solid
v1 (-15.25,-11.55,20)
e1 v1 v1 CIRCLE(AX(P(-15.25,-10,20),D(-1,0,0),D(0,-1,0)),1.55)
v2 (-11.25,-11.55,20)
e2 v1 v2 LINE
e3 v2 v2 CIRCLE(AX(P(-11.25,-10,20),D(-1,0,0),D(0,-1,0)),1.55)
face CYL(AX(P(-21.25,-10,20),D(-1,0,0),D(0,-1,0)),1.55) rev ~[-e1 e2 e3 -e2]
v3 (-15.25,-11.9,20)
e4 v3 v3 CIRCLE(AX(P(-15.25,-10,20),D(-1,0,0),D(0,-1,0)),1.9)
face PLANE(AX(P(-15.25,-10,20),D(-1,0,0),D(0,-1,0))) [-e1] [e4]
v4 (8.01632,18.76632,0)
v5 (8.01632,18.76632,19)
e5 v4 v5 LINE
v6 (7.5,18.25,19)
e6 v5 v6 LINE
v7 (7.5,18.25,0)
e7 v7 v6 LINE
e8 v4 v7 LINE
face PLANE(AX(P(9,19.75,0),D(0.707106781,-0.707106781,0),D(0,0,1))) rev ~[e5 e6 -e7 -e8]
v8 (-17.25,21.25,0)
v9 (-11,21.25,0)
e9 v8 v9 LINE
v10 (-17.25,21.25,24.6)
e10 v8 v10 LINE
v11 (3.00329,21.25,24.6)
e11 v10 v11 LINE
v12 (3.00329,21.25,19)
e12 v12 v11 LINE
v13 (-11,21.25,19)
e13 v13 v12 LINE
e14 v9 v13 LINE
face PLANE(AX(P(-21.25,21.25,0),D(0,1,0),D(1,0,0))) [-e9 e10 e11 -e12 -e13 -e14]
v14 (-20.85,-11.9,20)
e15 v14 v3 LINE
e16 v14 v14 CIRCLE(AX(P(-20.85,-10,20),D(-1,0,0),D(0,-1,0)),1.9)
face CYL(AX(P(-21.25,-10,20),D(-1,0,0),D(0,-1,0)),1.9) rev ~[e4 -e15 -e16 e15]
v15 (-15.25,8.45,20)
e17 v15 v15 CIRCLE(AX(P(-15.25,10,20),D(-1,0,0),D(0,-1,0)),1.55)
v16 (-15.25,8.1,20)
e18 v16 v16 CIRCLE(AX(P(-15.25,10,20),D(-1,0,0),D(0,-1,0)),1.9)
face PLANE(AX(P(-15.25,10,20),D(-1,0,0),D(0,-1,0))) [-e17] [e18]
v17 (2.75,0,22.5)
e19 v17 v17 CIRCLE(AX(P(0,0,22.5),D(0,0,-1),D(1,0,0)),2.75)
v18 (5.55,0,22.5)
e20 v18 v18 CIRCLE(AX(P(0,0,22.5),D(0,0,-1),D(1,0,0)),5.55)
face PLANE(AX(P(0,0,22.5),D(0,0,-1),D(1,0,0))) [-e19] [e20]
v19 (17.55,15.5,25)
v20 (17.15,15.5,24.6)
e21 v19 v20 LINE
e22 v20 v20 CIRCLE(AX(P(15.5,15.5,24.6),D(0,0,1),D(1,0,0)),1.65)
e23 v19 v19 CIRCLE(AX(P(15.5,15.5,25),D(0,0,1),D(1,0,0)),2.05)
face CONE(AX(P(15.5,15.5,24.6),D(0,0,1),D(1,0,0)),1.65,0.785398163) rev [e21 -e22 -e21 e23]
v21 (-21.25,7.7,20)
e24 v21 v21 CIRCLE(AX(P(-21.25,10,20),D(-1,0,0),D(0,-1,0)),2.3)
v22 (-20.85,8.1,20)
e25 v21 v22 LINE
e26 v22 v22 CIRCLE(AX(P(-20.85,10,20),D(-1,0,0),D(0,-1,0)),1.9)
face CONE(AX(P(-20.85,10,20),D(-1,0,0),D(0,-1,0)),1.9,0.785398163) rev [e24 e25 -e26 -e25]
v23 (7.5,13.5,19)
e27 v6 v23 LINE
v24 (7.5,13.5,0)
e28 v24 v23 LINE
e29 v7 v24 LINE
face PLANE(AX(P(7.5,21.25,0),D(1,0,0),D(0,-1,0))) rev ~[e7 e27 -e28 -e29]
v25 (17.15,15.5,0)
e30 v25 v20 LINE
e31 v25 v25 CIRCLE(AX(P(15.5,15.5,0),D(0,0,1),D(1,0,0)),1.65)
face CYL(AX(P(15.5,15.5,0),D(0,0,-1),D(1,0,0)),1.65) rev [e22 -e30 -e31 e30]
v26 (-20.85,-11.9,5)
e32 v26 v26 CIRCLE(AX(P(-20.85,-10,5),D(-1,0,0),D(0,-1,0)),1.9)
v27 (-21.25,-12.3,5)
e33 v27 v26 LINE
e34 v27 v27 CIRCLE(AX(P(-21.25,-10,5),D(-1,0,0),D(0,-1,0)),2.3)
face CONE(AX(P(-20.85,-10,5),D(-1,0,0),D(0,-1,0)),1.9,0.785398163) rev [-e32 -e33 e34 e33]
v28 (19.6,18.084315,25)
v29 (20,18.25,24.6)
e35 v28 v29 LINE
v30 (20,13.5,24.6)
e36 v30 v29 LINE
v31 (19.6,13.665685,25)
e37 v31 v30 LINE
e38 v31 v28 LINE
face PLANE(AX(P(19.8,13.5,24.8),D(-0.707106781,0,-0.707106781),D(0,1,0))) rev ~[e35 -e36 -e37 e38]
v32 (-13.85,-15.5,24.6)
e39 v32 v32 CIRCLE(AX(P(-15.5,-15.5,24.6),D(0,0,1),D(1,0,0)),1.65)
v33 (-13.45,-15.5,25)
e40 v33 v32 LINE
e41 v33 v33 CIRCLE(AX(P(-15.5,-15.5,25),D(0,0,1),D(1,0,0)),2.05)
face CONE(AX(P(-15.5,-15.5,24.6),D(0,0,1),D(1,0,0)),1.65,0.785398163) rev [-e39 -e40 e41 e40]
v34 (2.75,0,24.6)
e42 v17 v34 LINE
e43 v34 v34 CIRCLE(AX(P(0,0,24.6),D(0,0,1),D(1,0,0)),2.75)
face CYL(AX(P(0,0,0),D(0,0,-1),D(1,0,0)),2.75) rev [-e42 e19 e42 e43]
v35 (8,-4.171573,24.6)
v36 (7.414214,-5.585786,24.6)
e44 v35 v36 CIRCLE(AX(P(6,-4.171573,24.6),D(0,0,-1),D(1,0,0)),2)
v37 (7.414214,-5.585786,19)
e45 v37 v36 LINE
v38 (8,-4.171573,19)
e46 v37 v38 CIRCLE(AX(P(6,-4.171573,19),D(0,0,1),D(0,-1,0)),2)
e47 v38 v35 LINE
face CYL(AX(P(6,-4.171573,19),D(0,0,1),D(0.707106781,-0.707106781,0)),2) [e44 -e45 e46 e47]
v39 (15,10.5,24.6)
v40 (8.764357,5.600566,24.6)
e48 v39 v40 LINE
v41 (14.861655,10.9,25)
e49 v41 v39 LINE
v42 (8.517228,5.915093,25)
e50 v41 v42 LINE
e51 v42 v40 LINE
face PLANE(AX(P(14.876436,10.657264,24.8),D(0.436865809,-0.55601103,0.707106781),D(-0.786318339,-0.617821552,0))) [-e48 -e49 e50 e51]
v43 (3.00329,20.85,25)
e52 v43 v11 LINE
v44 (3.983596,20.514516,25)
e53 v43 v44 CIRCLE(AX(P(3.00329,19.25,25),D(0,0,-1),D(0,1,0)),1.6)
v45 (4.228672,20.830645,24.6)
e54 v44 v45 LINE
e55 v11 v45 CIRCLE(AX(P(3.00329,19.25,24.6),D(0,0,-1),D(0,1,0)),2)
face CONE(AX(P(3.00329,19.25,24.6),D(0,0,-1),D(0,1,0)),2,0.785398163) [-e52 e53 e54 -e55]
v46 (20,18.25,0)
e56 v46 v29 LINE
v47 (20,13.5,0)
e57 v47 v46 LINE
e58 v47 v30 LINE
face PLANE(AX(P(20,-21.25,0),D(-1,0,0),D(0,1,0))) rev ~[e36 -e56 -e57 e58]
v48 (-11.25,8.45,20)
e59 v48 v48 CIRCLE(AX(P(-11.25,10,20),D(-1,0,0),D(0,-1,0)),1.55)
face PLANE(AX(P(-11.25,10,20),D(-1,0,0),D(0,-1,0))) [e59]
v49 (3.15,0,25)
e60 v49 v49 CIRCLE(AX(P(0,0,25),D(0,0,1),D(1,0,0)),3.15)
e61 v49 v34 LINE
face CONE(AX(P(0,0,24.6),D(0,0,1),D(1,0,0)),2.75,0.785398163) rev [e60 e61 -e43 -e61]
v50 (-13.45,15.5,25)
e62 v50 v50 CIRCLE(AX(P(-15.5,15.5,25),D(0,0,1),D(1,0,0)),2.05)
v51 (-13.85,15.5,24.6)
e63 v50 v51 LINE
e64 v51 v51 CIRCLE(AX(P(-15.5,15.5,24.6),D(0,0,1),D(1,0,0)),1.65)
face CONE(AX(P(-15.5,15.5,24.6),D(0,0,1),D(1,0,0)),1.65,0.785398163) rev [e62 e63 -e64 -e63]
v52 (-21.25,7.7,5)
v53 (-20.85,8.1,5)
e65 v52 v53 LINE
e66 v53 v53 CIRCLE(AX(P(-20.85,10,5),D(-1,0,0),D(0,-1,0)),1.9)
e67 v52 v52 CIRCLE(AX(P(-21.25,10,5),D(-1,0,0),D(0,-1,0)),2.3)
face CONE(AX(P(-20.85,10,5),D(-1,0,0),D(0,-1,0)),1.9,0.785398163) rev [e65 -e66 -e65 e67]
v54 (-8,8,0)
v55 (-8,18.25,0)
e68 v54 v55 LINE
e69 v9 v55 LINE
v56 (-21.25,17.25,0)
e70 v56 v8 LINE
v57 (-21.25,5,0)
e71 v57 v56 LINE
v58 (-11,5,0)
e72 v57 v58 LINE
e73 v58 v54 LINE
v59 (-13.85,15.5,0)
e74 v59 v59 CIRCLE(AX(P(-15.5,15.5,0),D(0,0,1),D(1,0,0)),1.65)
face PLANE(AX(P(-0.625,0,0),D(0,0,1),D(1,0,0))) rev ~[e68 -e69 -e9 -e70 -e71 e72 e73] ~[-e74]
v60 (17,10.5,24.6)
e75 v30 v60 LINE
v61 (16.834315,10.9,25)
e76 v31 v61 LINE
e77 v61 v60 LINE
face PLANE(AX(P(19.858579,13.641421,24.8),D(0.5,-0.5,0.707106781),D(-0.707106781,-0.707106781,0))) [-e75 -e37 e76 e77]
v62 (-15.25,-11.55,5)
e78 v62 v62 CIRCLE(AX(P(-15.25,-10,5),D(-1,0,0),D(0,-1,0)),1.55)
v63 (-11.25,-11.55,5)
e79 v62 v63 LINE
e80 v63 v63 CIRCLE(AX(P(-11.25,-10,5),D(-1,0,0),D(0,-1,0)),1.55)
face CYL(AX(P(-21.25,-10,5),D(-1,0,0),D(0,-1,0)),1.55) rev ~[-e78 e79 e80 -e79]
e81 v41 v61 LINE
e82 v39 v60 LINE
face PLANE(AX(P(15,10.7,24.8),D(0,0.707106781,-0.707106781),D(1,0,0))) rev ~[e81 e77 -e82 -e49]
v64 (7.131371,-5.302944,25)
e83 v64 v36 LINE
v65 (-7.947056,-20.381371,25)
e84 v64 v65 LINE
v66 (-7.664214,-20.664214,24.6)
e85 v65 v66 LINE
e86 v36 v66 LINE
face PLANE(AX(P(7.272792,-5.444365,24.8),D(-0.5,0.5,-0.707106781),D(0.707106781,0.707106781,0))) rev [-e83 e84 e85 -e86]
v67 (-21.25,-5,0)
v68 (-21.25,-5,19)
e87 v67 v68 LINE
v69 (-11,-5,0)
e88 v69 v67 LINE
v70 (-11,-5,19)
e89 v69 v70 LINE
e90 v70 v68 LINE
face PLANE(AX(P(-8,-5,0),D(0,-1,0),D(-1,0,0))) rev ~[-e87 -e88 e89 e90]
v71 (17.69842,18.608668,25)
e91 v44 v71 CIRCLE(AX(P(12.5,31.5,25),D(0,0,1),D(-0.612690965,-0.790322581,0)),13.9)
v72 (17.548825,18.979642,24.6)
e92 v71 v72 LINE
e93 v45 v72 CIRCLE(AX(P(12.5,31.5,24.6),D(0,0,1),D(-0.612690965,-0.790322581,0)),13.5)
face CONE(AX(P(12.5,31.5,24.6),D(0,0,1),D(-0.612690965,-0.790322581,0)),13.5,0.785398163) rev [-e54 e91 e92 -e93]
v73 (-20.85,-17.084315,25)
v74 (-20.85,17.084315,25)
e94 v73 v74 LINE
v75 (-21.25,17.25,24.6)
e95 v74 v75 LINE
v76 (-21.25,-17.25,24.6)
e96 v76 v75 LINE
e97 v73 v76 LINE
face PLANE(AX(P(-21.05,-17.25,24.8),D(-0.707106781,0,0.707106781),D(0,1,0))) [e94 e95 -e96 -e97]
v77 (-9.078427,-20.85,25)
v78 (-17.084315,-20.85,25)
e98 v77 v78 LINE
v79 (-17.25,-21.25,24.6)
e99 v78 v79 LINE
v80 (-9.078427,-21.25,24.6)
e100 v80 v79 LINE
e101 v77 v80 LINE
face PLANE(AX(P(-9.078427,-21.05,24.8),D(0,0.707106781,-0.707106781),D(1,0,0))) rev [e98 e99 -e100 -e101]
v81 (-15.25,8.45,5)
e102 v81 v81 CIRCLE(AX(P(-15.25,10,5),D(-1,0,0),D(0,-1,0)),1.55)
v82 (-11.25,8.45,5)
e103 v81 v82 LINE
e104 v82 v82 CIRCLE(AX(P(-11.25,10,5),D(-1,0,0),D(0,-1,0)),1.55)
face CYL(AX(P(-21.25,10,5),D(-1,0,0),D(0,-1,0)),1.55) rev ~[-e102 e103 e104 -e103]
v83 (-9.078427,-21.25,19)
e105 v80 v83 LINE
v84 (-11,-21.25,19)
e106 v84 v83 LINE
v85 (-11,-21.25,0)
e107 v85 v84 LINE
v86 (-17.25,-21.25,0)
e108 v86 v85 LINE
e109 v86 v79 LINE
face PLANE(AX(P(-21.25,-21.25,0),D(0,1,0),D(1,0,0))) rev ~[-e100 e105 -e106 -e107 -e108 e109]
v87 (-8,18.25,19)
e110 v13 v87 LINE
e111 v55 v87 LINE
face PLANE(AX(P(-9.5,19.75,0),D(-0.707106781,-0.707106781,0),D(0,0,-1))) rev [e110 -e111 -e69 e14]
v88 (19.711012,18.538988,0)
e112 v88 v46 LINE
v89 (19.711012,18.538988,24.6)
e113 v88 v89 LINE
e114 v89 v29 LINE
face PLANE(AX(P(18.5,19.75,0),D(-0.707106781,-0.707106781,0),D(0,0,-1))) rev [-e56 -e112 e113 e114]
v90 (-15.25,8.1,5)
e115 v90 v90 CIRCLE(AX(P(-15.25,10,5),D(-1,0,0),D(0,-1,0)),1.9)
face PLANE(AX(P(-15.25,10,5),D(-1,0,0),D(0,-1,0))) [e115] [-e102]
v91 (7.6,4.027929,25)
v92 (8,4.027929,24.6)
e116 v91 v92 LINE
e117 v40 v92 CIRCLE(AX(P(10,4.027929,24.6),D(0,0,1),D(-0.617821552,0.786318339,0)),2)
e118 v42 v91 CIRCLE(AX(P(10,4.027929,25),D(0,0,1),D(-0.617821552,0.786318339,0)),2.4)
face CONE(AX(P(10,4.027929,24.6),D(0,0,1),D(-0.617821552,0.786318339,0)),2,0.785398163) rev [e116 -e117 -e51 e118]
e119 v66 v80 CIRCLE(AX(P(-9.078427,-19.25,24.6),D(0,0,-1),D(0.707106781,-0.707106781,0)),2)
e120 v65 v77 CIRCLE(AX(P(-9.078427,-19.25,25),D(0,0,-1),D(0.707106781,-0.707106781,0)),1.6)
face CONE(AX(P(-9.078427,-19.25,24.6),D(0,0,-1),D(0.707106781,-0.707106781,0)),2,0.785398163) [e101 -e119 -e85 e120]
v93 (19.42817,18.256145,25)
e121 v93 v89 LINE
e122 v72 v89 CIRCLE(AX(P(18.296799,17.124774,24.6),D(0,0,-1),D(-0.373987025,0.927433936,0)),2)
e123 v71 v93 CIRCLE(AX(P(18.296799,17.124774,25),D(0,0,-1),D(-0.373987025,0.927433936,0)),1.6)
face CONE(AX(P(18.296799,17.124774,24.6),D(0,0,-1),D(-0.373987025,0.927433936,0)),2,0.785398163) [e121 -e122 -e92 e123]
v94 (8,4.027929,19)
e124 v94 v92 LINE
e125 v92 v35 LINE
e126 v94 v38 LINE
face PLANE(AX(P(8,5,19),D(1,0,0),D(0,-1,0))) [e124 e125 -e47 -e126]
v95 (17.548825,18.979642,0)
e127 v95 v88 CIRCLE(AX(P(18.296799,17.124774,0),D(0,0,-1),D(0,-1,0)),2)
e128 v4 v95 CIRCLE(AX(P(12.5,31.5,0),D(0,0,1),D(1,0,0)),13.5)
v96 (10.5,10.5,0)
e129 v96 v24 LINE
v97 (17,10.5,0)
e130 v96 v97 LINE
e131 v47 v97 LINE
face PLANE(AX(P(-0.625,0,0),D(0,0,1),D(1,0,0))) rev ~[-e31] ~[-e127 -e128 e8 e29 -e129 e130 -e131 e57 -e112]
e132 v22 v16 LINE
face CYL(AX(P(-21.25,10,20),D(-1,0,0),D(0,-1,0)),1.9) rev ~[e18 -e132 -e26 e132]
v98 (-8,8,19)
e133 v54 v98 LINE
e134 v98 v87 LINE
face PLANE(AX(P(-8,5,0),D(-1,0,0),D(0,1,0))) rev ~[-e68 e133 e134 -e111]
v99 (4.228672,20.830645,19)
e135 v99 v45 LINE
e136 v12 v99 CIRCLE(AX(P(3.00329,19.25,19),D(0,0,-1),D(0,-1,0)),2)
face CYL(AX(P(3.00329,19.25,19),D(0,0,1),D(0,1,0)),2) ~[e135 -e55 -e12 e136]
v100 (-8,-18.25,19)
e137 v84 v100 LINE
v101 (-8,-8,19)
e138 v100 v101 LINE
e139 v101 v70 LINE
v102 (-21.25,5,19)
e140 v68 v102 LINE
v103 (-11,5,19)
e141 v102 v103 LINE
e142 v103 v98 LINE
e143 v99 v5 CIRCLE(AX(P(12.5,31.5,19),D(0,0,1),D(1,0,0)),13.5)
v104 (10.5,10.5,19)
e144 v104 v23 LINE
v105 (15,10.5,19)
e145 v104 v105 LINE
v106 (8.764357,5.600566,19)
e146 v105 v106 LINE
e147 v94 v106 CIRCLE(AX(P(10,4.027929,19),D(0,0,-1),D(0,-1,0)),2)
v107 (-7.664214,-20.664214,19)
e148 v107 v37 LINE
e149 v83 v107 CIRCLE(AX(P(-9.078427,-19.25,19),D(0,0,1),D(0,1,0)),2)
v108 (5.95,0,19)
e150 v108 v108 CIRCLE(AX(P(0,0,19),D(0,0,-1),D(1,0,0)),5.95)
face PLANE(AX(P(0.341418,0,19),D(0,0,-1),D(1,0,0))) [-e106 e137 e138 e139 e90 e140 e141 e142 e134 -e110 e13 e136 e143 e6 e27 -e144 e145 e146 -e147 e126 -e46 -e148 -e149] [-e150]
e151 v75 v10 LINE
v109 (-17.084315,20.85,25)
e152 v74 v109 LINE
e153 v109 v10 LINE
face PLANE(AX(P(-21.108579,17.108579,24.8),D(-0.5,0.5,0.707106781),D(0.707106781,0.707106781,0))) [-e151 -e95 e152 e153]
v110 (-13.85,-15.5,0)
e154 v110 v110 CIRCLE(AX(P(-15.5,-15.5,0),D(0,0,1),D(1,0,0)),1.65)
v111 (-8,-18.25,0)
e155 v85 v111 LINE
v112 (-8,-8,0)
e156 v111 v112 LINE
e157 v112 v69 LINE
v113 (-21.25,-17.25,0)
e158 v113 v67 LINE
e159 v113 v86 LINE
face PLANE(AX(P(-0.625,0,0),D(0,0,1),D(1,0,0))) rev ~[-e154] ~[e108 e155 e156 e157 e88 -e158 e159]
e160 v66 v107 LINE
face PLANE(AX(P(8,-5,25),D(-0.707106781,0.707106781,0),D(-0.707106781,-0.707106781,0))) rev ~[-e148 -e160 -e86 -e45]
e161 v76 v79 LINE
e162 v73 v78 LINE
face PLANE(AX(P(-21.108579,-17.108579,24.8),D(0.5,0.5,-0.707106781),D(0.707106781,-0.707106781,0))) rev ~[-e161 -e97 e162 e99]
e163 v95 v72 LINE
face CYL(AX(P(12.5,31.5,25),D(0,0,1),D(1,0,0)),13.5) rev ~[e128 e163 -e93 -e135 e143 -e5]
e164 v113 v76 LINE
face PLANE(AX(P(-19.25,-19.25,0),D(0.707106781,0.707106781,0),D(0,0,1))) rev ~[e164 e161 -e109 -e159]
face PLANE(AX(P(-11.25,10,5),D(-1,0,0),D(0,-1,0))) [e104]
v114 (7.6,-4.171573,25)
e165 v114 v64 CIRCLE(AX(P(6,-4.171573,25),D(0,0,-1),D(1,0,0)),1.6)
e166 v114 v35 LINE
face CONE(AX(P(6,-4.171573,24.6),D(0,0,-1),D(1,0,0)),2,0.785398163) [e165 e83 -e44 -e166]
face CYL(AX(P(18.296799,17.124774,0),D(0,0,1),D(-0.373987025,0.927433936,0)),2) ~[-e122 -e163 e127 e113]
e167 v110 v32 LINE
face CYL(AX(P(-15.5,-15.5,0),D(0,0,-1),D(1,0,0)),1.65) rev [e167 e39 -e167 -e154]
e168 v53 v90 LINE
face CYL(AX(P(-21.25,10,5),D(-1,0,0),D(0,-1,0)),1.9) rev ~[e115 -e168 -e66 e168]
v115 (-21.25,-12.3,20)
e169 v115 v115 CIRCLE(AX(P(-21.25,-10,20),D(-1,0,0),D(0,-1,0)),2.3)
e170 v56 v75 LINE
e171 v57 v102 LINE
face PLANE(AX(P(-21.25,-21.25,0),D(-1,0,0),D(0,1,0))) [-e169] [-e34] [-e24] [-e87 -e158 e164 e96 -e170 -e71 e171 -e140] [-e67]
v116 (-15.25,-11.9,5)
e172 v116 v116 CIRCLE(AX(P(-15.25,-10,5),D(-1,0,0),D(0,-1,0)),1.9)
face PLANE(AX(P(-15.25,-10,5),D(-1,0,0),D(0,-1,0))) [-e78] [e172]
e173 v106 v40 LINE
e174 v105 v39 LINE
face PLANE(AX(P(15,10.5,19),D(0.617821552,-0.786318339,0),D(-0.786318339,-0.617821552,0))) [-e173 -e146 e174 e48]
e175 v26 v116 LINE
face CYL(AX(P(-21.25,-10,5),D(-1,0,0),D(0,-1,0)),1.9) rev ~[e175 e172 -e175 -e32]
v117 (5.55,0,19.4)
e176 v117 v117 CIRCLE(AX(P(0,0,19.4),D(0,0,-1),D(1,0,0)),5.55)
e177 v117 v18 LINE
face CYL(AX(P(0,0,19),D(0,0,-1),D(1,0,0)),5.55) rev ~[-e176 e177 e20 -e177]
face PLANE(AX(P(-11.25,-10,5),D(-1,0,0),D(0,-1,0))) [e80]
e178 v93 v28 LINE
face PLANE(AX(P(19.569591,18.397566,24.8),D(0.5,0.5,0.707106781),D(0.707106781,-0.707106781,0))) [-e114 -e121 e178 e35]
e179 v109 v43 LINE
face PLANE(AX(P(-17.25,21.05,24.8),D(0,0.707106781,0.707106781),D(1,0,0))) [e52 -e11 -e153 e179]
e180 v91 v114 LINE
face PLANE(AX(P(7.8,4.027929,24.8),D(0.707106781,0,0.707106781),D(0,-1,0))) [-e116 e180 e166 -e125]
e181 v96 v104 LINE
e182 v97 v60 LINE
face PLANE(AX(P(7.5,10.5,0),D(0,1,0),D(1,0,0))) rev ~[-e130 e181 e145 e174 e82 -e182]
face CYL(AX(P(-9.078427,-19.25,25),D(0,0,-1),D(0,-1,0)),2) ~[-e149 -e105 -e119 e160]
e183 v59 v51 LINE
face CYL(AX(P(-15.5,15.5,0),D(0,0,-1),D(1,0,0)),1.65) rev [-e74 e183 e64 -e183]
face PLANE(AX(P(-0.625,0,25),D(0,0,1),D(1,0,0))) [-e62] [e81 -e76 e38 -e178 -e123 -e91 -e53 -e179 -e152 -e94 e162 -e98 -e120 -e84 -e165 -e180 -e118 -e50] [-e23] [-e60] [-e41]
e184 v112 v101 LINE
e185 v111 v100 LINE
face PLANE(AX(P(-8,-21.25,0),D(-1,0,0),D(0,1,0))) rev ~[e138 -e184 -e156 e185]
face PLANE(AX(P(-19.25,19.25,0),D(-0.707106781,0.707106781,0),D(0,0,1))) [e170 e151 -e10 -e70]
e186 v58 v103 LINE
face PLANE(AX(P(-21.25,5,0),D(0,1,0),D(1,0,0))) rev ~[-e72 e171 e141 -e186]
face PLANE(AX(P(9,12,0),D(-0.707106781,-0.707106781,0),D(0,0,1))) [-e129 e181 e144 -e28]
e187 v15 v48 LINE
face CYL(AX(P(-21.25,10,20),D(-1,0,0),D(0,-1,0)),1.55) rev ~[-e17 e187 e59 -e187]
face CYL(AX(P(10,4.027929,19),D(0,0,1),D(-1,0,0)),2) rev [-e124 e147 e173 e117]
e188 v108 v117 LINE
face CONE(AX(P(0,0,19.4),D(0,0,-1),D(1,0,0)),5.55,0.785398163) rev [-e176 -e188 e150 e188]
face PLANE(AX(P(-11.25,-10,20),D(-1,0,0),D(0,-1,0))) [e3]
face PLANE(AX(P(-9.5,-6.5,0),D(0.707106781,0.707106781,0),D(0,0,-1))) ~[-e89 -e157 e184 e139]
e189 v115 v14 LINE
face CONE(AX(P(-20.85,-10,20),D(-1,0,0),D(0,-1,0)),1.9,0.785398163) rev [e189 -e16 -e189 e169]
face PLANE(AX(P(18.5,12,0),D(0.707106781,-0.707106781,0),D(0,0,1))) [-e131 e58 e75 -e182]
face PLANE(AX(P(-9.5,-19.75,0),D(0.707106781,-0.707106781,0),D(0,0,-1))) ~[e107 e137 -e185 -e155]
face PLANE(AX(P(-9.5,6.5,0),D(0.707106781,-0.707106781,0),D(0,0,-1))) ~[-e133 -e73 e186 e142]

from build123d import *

# Parameters (mm, degrees)
SKETCH_W        = 41.25
SKETCH_H        = 42.5
SKETCH_R        = 1.65
SKETCH_R_2      = 2.75
PAD_DEPTH       = 25
POCKET_DEPTH    = 19
POCKET001_DEPTH = 19
POCKET002_DEPTH = 6.001
CHAMFER_SIZE    = 4
CHAMFER001_SIZE = 3
CHAMFER002_SIZE = 3
SKETCH003_R     = 5.55
POCKET003_DEPTH = 3.5
SKETCH004_R     = 1.55
POCKET004_DEPTH = 10
SKETCH005_R     = 1.9
POCKET005_DEPTH = 6
SKETCH006_R     = 13.5
POCKET006_DEPTH = 25.001
POCKET007_DEPTH = 25.001
FILLET_R        = 2
CHAMFER003_SIZE = 0.4


with BuildPart() as part:
    # Sketch → Pad (new body)
    with BuildSketch(Plane.XY):
        with Locations((-0.625, 0)):
            Rectangle(SKETCH_W, SKETCH_H)
        with Locations((-15.5, 15.5)):
            Circle(SKETCH_R, mode=Mode.SUBTRACT)
        with Locations((-15.5, -15.5)):
            Circle(SKETCH_R, mode=Mode.SUBTRACT)
        with Locations((15.5, -15.5)):
            Circle(SKETCH_R, mode=Mode.SUBTRACT)
        with Locations((15.5, 15.5)):
            Circle(SKETCH_R, mode=Mode.SUBTRACT)
        Circle(SKETCH_R_2, mode=Mode.SUBTRACT)
    extrude(amount=PAD_DEPTH)

    # Sketch001 (on Face10 of Pad) → Pocket (cut)
    with BuildSketch(Plane(origin=(0, 0, 0), x_dir=(1, 0, 0), z_dir=(0, 0, -1))):
        Polygon((-21.25, 5), (-21.25, -5), (-8, -5), (-8, -21.25), (7.5, -21.25), (7.5, -10.5), (20, -10.5), (20, 10.5), (7.5, 10.5), (7.5, 21.25), (-8, 21.25), (-8, 5), align=None)
    extrude(amount=-POCKET_DEPTH, mode=Mode.SUBTRACT)

    # Sketch001 (on Face10 of Pad) → Pocket001 (cut)
    with BuildSketch(Plane(origin=(0, 0, 0), x_dir=(1, 0, 0), z_dir=(0, 0, -1))):
        Polygon((-21.25, 5), (-21.25, -5), (-8, -5), (-8, -21.25), (7.5, -21.25), (7.5, -10.5), (20, -10.5), (20, 10.5), (7.5, 10.5), (7.5, 21.25), (-8, 21.25), (-8, 5), align=None)
    extrude(amount=-POCKET001_DEPTH, mode=Mode.SUBTRACT)

    # Sketch002 (on Face4 of Pocket001) → Pocket002 (cut, through all)
    with BuildSketch(Plane(origin=(0, 0, 19), x_dir=(1, 0, 0), z_dir=(0, 0, -1))):
        Polygon((20, 10.5), (20, -10.5), (15, -10.5), (8, -5), (8, 5), (15, 10.5), align=None)
    extrude(amount=-POCKET002_DEPTH, mode=Mode.SUBTRACT)

    # Chamfer
    chamfer_edges = [part.edges().sort_by_distance(p)[0] for p in [
        (-21.25, -21.25, 12.5),
        (-21.25, 21.25, 12.5),
    ]]
    chamfer(chamfer_edges, length=CHAMFER_SIZE)

    # Chamfer001
    chamfer001_edges = [part.edges().sort_by_distance(p)[0] for p in [
        (20, 21.25, 12.5),
        (20, 10.5, 22),
        (20, -10.5, 9.5),
        (20, -21.25, 12.5),
    ]]
    chamfer(chamfer001_edges, length=CHAMFER001_SIZE)

    # Chamfer002
    chamfer002_edges = [part.edges().sort_by_distance(p)[0] for p in [
        (-8, 5, 9.5),
        (-8, -5, 9.5),
        (7.5, -10.5, 9.5),
        (7.5, -21.25, 9.5),
        (7.5, 10.5, 9.5),
        (7.5, 21.25, 9.5),
        (-8, -21.25, 9.5),
        (-8, 21.25, 9.5),
    ]]
    chamfer(chamfer002_edges, length=CHAMFER002_SIZE)

    # Sketch003 (on Face5 of Chamfer002) → Pocket003 (cut)
    with BuildSketch(Plane(origin=(0, 0, 19), x_dir=(1, 0, 0), z_dir=(0, 0, -1))):
        Circle(SKETCH003_R)
    extrude(amount=-POCKET003_DEPTH, mode=Mode.SUBTRACT)

    # Sketch004 (on Face18 of Pocket003) → Pocket004 (cut)
    with BuildSketch(Plane(origin=(-21.25, 0, 0), x_dir=(0, -1, 0), z_dir=(-1, 0, 0))):
        with Locations((-10, 20)):
            Circle(SKETCH004_R)
        with Locations((10, 20)):
            Circle(SKETCH004_R)
        with Locations((-10, 5)):
            Circle(SKETCH004_R)
        with Locations((10, 5)):
            Circle(SKETCH004_R)
    extrude(amount=-POCKET004_DEPTH, mode=Mode.SUBTRACT)

    # Sketch005 (on Face18 of Pocket004) → Pocket005 (cut)
    with BuildSketch(Plane(origin=(-21.25, 0, 0), x_dir=(0, -1, 0), z_dir=(-1, 0, 0))):
        with Locations((-10, 20)):
            Circle(SKETCH005_R)
        with Locations((-10, 5)):
            Circle(SKETCH005_R)
        with Locations((10, 5)):
            Circle(SKETCH005_R)
        with Locations((10, 20)):
            Circle(SKETCH005_R)
    extrude(amount=-POCKET005_DEPTH, mode=Mode.SUBTRACT)

    # Sketch006 (on Face6 of Pocket005) → Pocket006 (cut, through all)
    with BuildSketch(Plane.XY.offset(25)):
        with Locations((12.5, 31.5)):
            Circle(SKETCH006_R)
        with Locations((12.5, -31.5)):
            Circle(SKETCH006_R)
    extrude(amount=-POCKET006_DEPTH, mode=Mode.SUBTRACT)

    # Sketch007 (on Face2 of Pocket006) → Pocket007 (cut, through all)
    with BuildSketch(Plane.XY.offset(25)):
        Polygon((8, -5), (-8.25, -21.25), (20, -21.25), (20, -5), align=None)
    extrude(amount=-POCKET007_DEPTH, mode=Mode.SUBTRACT)

    # Fillet
    fillet_edges = [part.edges().sort_by_distance(p)[0] for p in [
        (-8.25, -21.25, 22),
        (8, -5, 22),
        (8, 5, 22),
        (18.727713, 19.522287, 12.5),
        (3.714358, 21.25, 22),
    ]]
    fillet(fillet_edges, radius=FILLET_R)

    # Chamfer003
    chamfer003_edges = [part.edges().sort_by_distance(p)[0] for p in [
        (-0.125, -13.125, 25),
        (7.847759, -4.93694, 25),
        (-8.31306, -21.097759, 25),
        (8, -0.071822, 25),
        (-13.164214, -21.25, 25),
        (8.201211, 4.902205, 25),
        (-19.25, -19.25, 25),
        (11.882178, 8.050283, 25),
        (-21.25, 0, 25),
        (16, 10.5, 25),
        (-19.25, 19.25, 25),
        (18.5, 12, 25),
        (-7.123355, 21.25, 25),
        (20, 15.875, 25),
        (3.650866, 21.142259, 25),
        (19.855506, 18.394494, 25),
        (10.64186, 18.128489, 25),
        (18.696189, 19.08449, 25),
        (-17.15, -15.5, 25),
        (13.85, 15.5, 25),
        (-2.75, 0, 25),
        (-17.15, 15.5, 25),
        (-5.55, 0, 19),
        (-21.25, -8.1, 20),
        (-21.25, -8.1, 5),
        (-21.25, 11.9, 5),
        (-21.25, 11.9, 20),
    ]]
    chamfer(chamfer003_edges, length=CHAMFER003_SIZE)


solid = part.part
